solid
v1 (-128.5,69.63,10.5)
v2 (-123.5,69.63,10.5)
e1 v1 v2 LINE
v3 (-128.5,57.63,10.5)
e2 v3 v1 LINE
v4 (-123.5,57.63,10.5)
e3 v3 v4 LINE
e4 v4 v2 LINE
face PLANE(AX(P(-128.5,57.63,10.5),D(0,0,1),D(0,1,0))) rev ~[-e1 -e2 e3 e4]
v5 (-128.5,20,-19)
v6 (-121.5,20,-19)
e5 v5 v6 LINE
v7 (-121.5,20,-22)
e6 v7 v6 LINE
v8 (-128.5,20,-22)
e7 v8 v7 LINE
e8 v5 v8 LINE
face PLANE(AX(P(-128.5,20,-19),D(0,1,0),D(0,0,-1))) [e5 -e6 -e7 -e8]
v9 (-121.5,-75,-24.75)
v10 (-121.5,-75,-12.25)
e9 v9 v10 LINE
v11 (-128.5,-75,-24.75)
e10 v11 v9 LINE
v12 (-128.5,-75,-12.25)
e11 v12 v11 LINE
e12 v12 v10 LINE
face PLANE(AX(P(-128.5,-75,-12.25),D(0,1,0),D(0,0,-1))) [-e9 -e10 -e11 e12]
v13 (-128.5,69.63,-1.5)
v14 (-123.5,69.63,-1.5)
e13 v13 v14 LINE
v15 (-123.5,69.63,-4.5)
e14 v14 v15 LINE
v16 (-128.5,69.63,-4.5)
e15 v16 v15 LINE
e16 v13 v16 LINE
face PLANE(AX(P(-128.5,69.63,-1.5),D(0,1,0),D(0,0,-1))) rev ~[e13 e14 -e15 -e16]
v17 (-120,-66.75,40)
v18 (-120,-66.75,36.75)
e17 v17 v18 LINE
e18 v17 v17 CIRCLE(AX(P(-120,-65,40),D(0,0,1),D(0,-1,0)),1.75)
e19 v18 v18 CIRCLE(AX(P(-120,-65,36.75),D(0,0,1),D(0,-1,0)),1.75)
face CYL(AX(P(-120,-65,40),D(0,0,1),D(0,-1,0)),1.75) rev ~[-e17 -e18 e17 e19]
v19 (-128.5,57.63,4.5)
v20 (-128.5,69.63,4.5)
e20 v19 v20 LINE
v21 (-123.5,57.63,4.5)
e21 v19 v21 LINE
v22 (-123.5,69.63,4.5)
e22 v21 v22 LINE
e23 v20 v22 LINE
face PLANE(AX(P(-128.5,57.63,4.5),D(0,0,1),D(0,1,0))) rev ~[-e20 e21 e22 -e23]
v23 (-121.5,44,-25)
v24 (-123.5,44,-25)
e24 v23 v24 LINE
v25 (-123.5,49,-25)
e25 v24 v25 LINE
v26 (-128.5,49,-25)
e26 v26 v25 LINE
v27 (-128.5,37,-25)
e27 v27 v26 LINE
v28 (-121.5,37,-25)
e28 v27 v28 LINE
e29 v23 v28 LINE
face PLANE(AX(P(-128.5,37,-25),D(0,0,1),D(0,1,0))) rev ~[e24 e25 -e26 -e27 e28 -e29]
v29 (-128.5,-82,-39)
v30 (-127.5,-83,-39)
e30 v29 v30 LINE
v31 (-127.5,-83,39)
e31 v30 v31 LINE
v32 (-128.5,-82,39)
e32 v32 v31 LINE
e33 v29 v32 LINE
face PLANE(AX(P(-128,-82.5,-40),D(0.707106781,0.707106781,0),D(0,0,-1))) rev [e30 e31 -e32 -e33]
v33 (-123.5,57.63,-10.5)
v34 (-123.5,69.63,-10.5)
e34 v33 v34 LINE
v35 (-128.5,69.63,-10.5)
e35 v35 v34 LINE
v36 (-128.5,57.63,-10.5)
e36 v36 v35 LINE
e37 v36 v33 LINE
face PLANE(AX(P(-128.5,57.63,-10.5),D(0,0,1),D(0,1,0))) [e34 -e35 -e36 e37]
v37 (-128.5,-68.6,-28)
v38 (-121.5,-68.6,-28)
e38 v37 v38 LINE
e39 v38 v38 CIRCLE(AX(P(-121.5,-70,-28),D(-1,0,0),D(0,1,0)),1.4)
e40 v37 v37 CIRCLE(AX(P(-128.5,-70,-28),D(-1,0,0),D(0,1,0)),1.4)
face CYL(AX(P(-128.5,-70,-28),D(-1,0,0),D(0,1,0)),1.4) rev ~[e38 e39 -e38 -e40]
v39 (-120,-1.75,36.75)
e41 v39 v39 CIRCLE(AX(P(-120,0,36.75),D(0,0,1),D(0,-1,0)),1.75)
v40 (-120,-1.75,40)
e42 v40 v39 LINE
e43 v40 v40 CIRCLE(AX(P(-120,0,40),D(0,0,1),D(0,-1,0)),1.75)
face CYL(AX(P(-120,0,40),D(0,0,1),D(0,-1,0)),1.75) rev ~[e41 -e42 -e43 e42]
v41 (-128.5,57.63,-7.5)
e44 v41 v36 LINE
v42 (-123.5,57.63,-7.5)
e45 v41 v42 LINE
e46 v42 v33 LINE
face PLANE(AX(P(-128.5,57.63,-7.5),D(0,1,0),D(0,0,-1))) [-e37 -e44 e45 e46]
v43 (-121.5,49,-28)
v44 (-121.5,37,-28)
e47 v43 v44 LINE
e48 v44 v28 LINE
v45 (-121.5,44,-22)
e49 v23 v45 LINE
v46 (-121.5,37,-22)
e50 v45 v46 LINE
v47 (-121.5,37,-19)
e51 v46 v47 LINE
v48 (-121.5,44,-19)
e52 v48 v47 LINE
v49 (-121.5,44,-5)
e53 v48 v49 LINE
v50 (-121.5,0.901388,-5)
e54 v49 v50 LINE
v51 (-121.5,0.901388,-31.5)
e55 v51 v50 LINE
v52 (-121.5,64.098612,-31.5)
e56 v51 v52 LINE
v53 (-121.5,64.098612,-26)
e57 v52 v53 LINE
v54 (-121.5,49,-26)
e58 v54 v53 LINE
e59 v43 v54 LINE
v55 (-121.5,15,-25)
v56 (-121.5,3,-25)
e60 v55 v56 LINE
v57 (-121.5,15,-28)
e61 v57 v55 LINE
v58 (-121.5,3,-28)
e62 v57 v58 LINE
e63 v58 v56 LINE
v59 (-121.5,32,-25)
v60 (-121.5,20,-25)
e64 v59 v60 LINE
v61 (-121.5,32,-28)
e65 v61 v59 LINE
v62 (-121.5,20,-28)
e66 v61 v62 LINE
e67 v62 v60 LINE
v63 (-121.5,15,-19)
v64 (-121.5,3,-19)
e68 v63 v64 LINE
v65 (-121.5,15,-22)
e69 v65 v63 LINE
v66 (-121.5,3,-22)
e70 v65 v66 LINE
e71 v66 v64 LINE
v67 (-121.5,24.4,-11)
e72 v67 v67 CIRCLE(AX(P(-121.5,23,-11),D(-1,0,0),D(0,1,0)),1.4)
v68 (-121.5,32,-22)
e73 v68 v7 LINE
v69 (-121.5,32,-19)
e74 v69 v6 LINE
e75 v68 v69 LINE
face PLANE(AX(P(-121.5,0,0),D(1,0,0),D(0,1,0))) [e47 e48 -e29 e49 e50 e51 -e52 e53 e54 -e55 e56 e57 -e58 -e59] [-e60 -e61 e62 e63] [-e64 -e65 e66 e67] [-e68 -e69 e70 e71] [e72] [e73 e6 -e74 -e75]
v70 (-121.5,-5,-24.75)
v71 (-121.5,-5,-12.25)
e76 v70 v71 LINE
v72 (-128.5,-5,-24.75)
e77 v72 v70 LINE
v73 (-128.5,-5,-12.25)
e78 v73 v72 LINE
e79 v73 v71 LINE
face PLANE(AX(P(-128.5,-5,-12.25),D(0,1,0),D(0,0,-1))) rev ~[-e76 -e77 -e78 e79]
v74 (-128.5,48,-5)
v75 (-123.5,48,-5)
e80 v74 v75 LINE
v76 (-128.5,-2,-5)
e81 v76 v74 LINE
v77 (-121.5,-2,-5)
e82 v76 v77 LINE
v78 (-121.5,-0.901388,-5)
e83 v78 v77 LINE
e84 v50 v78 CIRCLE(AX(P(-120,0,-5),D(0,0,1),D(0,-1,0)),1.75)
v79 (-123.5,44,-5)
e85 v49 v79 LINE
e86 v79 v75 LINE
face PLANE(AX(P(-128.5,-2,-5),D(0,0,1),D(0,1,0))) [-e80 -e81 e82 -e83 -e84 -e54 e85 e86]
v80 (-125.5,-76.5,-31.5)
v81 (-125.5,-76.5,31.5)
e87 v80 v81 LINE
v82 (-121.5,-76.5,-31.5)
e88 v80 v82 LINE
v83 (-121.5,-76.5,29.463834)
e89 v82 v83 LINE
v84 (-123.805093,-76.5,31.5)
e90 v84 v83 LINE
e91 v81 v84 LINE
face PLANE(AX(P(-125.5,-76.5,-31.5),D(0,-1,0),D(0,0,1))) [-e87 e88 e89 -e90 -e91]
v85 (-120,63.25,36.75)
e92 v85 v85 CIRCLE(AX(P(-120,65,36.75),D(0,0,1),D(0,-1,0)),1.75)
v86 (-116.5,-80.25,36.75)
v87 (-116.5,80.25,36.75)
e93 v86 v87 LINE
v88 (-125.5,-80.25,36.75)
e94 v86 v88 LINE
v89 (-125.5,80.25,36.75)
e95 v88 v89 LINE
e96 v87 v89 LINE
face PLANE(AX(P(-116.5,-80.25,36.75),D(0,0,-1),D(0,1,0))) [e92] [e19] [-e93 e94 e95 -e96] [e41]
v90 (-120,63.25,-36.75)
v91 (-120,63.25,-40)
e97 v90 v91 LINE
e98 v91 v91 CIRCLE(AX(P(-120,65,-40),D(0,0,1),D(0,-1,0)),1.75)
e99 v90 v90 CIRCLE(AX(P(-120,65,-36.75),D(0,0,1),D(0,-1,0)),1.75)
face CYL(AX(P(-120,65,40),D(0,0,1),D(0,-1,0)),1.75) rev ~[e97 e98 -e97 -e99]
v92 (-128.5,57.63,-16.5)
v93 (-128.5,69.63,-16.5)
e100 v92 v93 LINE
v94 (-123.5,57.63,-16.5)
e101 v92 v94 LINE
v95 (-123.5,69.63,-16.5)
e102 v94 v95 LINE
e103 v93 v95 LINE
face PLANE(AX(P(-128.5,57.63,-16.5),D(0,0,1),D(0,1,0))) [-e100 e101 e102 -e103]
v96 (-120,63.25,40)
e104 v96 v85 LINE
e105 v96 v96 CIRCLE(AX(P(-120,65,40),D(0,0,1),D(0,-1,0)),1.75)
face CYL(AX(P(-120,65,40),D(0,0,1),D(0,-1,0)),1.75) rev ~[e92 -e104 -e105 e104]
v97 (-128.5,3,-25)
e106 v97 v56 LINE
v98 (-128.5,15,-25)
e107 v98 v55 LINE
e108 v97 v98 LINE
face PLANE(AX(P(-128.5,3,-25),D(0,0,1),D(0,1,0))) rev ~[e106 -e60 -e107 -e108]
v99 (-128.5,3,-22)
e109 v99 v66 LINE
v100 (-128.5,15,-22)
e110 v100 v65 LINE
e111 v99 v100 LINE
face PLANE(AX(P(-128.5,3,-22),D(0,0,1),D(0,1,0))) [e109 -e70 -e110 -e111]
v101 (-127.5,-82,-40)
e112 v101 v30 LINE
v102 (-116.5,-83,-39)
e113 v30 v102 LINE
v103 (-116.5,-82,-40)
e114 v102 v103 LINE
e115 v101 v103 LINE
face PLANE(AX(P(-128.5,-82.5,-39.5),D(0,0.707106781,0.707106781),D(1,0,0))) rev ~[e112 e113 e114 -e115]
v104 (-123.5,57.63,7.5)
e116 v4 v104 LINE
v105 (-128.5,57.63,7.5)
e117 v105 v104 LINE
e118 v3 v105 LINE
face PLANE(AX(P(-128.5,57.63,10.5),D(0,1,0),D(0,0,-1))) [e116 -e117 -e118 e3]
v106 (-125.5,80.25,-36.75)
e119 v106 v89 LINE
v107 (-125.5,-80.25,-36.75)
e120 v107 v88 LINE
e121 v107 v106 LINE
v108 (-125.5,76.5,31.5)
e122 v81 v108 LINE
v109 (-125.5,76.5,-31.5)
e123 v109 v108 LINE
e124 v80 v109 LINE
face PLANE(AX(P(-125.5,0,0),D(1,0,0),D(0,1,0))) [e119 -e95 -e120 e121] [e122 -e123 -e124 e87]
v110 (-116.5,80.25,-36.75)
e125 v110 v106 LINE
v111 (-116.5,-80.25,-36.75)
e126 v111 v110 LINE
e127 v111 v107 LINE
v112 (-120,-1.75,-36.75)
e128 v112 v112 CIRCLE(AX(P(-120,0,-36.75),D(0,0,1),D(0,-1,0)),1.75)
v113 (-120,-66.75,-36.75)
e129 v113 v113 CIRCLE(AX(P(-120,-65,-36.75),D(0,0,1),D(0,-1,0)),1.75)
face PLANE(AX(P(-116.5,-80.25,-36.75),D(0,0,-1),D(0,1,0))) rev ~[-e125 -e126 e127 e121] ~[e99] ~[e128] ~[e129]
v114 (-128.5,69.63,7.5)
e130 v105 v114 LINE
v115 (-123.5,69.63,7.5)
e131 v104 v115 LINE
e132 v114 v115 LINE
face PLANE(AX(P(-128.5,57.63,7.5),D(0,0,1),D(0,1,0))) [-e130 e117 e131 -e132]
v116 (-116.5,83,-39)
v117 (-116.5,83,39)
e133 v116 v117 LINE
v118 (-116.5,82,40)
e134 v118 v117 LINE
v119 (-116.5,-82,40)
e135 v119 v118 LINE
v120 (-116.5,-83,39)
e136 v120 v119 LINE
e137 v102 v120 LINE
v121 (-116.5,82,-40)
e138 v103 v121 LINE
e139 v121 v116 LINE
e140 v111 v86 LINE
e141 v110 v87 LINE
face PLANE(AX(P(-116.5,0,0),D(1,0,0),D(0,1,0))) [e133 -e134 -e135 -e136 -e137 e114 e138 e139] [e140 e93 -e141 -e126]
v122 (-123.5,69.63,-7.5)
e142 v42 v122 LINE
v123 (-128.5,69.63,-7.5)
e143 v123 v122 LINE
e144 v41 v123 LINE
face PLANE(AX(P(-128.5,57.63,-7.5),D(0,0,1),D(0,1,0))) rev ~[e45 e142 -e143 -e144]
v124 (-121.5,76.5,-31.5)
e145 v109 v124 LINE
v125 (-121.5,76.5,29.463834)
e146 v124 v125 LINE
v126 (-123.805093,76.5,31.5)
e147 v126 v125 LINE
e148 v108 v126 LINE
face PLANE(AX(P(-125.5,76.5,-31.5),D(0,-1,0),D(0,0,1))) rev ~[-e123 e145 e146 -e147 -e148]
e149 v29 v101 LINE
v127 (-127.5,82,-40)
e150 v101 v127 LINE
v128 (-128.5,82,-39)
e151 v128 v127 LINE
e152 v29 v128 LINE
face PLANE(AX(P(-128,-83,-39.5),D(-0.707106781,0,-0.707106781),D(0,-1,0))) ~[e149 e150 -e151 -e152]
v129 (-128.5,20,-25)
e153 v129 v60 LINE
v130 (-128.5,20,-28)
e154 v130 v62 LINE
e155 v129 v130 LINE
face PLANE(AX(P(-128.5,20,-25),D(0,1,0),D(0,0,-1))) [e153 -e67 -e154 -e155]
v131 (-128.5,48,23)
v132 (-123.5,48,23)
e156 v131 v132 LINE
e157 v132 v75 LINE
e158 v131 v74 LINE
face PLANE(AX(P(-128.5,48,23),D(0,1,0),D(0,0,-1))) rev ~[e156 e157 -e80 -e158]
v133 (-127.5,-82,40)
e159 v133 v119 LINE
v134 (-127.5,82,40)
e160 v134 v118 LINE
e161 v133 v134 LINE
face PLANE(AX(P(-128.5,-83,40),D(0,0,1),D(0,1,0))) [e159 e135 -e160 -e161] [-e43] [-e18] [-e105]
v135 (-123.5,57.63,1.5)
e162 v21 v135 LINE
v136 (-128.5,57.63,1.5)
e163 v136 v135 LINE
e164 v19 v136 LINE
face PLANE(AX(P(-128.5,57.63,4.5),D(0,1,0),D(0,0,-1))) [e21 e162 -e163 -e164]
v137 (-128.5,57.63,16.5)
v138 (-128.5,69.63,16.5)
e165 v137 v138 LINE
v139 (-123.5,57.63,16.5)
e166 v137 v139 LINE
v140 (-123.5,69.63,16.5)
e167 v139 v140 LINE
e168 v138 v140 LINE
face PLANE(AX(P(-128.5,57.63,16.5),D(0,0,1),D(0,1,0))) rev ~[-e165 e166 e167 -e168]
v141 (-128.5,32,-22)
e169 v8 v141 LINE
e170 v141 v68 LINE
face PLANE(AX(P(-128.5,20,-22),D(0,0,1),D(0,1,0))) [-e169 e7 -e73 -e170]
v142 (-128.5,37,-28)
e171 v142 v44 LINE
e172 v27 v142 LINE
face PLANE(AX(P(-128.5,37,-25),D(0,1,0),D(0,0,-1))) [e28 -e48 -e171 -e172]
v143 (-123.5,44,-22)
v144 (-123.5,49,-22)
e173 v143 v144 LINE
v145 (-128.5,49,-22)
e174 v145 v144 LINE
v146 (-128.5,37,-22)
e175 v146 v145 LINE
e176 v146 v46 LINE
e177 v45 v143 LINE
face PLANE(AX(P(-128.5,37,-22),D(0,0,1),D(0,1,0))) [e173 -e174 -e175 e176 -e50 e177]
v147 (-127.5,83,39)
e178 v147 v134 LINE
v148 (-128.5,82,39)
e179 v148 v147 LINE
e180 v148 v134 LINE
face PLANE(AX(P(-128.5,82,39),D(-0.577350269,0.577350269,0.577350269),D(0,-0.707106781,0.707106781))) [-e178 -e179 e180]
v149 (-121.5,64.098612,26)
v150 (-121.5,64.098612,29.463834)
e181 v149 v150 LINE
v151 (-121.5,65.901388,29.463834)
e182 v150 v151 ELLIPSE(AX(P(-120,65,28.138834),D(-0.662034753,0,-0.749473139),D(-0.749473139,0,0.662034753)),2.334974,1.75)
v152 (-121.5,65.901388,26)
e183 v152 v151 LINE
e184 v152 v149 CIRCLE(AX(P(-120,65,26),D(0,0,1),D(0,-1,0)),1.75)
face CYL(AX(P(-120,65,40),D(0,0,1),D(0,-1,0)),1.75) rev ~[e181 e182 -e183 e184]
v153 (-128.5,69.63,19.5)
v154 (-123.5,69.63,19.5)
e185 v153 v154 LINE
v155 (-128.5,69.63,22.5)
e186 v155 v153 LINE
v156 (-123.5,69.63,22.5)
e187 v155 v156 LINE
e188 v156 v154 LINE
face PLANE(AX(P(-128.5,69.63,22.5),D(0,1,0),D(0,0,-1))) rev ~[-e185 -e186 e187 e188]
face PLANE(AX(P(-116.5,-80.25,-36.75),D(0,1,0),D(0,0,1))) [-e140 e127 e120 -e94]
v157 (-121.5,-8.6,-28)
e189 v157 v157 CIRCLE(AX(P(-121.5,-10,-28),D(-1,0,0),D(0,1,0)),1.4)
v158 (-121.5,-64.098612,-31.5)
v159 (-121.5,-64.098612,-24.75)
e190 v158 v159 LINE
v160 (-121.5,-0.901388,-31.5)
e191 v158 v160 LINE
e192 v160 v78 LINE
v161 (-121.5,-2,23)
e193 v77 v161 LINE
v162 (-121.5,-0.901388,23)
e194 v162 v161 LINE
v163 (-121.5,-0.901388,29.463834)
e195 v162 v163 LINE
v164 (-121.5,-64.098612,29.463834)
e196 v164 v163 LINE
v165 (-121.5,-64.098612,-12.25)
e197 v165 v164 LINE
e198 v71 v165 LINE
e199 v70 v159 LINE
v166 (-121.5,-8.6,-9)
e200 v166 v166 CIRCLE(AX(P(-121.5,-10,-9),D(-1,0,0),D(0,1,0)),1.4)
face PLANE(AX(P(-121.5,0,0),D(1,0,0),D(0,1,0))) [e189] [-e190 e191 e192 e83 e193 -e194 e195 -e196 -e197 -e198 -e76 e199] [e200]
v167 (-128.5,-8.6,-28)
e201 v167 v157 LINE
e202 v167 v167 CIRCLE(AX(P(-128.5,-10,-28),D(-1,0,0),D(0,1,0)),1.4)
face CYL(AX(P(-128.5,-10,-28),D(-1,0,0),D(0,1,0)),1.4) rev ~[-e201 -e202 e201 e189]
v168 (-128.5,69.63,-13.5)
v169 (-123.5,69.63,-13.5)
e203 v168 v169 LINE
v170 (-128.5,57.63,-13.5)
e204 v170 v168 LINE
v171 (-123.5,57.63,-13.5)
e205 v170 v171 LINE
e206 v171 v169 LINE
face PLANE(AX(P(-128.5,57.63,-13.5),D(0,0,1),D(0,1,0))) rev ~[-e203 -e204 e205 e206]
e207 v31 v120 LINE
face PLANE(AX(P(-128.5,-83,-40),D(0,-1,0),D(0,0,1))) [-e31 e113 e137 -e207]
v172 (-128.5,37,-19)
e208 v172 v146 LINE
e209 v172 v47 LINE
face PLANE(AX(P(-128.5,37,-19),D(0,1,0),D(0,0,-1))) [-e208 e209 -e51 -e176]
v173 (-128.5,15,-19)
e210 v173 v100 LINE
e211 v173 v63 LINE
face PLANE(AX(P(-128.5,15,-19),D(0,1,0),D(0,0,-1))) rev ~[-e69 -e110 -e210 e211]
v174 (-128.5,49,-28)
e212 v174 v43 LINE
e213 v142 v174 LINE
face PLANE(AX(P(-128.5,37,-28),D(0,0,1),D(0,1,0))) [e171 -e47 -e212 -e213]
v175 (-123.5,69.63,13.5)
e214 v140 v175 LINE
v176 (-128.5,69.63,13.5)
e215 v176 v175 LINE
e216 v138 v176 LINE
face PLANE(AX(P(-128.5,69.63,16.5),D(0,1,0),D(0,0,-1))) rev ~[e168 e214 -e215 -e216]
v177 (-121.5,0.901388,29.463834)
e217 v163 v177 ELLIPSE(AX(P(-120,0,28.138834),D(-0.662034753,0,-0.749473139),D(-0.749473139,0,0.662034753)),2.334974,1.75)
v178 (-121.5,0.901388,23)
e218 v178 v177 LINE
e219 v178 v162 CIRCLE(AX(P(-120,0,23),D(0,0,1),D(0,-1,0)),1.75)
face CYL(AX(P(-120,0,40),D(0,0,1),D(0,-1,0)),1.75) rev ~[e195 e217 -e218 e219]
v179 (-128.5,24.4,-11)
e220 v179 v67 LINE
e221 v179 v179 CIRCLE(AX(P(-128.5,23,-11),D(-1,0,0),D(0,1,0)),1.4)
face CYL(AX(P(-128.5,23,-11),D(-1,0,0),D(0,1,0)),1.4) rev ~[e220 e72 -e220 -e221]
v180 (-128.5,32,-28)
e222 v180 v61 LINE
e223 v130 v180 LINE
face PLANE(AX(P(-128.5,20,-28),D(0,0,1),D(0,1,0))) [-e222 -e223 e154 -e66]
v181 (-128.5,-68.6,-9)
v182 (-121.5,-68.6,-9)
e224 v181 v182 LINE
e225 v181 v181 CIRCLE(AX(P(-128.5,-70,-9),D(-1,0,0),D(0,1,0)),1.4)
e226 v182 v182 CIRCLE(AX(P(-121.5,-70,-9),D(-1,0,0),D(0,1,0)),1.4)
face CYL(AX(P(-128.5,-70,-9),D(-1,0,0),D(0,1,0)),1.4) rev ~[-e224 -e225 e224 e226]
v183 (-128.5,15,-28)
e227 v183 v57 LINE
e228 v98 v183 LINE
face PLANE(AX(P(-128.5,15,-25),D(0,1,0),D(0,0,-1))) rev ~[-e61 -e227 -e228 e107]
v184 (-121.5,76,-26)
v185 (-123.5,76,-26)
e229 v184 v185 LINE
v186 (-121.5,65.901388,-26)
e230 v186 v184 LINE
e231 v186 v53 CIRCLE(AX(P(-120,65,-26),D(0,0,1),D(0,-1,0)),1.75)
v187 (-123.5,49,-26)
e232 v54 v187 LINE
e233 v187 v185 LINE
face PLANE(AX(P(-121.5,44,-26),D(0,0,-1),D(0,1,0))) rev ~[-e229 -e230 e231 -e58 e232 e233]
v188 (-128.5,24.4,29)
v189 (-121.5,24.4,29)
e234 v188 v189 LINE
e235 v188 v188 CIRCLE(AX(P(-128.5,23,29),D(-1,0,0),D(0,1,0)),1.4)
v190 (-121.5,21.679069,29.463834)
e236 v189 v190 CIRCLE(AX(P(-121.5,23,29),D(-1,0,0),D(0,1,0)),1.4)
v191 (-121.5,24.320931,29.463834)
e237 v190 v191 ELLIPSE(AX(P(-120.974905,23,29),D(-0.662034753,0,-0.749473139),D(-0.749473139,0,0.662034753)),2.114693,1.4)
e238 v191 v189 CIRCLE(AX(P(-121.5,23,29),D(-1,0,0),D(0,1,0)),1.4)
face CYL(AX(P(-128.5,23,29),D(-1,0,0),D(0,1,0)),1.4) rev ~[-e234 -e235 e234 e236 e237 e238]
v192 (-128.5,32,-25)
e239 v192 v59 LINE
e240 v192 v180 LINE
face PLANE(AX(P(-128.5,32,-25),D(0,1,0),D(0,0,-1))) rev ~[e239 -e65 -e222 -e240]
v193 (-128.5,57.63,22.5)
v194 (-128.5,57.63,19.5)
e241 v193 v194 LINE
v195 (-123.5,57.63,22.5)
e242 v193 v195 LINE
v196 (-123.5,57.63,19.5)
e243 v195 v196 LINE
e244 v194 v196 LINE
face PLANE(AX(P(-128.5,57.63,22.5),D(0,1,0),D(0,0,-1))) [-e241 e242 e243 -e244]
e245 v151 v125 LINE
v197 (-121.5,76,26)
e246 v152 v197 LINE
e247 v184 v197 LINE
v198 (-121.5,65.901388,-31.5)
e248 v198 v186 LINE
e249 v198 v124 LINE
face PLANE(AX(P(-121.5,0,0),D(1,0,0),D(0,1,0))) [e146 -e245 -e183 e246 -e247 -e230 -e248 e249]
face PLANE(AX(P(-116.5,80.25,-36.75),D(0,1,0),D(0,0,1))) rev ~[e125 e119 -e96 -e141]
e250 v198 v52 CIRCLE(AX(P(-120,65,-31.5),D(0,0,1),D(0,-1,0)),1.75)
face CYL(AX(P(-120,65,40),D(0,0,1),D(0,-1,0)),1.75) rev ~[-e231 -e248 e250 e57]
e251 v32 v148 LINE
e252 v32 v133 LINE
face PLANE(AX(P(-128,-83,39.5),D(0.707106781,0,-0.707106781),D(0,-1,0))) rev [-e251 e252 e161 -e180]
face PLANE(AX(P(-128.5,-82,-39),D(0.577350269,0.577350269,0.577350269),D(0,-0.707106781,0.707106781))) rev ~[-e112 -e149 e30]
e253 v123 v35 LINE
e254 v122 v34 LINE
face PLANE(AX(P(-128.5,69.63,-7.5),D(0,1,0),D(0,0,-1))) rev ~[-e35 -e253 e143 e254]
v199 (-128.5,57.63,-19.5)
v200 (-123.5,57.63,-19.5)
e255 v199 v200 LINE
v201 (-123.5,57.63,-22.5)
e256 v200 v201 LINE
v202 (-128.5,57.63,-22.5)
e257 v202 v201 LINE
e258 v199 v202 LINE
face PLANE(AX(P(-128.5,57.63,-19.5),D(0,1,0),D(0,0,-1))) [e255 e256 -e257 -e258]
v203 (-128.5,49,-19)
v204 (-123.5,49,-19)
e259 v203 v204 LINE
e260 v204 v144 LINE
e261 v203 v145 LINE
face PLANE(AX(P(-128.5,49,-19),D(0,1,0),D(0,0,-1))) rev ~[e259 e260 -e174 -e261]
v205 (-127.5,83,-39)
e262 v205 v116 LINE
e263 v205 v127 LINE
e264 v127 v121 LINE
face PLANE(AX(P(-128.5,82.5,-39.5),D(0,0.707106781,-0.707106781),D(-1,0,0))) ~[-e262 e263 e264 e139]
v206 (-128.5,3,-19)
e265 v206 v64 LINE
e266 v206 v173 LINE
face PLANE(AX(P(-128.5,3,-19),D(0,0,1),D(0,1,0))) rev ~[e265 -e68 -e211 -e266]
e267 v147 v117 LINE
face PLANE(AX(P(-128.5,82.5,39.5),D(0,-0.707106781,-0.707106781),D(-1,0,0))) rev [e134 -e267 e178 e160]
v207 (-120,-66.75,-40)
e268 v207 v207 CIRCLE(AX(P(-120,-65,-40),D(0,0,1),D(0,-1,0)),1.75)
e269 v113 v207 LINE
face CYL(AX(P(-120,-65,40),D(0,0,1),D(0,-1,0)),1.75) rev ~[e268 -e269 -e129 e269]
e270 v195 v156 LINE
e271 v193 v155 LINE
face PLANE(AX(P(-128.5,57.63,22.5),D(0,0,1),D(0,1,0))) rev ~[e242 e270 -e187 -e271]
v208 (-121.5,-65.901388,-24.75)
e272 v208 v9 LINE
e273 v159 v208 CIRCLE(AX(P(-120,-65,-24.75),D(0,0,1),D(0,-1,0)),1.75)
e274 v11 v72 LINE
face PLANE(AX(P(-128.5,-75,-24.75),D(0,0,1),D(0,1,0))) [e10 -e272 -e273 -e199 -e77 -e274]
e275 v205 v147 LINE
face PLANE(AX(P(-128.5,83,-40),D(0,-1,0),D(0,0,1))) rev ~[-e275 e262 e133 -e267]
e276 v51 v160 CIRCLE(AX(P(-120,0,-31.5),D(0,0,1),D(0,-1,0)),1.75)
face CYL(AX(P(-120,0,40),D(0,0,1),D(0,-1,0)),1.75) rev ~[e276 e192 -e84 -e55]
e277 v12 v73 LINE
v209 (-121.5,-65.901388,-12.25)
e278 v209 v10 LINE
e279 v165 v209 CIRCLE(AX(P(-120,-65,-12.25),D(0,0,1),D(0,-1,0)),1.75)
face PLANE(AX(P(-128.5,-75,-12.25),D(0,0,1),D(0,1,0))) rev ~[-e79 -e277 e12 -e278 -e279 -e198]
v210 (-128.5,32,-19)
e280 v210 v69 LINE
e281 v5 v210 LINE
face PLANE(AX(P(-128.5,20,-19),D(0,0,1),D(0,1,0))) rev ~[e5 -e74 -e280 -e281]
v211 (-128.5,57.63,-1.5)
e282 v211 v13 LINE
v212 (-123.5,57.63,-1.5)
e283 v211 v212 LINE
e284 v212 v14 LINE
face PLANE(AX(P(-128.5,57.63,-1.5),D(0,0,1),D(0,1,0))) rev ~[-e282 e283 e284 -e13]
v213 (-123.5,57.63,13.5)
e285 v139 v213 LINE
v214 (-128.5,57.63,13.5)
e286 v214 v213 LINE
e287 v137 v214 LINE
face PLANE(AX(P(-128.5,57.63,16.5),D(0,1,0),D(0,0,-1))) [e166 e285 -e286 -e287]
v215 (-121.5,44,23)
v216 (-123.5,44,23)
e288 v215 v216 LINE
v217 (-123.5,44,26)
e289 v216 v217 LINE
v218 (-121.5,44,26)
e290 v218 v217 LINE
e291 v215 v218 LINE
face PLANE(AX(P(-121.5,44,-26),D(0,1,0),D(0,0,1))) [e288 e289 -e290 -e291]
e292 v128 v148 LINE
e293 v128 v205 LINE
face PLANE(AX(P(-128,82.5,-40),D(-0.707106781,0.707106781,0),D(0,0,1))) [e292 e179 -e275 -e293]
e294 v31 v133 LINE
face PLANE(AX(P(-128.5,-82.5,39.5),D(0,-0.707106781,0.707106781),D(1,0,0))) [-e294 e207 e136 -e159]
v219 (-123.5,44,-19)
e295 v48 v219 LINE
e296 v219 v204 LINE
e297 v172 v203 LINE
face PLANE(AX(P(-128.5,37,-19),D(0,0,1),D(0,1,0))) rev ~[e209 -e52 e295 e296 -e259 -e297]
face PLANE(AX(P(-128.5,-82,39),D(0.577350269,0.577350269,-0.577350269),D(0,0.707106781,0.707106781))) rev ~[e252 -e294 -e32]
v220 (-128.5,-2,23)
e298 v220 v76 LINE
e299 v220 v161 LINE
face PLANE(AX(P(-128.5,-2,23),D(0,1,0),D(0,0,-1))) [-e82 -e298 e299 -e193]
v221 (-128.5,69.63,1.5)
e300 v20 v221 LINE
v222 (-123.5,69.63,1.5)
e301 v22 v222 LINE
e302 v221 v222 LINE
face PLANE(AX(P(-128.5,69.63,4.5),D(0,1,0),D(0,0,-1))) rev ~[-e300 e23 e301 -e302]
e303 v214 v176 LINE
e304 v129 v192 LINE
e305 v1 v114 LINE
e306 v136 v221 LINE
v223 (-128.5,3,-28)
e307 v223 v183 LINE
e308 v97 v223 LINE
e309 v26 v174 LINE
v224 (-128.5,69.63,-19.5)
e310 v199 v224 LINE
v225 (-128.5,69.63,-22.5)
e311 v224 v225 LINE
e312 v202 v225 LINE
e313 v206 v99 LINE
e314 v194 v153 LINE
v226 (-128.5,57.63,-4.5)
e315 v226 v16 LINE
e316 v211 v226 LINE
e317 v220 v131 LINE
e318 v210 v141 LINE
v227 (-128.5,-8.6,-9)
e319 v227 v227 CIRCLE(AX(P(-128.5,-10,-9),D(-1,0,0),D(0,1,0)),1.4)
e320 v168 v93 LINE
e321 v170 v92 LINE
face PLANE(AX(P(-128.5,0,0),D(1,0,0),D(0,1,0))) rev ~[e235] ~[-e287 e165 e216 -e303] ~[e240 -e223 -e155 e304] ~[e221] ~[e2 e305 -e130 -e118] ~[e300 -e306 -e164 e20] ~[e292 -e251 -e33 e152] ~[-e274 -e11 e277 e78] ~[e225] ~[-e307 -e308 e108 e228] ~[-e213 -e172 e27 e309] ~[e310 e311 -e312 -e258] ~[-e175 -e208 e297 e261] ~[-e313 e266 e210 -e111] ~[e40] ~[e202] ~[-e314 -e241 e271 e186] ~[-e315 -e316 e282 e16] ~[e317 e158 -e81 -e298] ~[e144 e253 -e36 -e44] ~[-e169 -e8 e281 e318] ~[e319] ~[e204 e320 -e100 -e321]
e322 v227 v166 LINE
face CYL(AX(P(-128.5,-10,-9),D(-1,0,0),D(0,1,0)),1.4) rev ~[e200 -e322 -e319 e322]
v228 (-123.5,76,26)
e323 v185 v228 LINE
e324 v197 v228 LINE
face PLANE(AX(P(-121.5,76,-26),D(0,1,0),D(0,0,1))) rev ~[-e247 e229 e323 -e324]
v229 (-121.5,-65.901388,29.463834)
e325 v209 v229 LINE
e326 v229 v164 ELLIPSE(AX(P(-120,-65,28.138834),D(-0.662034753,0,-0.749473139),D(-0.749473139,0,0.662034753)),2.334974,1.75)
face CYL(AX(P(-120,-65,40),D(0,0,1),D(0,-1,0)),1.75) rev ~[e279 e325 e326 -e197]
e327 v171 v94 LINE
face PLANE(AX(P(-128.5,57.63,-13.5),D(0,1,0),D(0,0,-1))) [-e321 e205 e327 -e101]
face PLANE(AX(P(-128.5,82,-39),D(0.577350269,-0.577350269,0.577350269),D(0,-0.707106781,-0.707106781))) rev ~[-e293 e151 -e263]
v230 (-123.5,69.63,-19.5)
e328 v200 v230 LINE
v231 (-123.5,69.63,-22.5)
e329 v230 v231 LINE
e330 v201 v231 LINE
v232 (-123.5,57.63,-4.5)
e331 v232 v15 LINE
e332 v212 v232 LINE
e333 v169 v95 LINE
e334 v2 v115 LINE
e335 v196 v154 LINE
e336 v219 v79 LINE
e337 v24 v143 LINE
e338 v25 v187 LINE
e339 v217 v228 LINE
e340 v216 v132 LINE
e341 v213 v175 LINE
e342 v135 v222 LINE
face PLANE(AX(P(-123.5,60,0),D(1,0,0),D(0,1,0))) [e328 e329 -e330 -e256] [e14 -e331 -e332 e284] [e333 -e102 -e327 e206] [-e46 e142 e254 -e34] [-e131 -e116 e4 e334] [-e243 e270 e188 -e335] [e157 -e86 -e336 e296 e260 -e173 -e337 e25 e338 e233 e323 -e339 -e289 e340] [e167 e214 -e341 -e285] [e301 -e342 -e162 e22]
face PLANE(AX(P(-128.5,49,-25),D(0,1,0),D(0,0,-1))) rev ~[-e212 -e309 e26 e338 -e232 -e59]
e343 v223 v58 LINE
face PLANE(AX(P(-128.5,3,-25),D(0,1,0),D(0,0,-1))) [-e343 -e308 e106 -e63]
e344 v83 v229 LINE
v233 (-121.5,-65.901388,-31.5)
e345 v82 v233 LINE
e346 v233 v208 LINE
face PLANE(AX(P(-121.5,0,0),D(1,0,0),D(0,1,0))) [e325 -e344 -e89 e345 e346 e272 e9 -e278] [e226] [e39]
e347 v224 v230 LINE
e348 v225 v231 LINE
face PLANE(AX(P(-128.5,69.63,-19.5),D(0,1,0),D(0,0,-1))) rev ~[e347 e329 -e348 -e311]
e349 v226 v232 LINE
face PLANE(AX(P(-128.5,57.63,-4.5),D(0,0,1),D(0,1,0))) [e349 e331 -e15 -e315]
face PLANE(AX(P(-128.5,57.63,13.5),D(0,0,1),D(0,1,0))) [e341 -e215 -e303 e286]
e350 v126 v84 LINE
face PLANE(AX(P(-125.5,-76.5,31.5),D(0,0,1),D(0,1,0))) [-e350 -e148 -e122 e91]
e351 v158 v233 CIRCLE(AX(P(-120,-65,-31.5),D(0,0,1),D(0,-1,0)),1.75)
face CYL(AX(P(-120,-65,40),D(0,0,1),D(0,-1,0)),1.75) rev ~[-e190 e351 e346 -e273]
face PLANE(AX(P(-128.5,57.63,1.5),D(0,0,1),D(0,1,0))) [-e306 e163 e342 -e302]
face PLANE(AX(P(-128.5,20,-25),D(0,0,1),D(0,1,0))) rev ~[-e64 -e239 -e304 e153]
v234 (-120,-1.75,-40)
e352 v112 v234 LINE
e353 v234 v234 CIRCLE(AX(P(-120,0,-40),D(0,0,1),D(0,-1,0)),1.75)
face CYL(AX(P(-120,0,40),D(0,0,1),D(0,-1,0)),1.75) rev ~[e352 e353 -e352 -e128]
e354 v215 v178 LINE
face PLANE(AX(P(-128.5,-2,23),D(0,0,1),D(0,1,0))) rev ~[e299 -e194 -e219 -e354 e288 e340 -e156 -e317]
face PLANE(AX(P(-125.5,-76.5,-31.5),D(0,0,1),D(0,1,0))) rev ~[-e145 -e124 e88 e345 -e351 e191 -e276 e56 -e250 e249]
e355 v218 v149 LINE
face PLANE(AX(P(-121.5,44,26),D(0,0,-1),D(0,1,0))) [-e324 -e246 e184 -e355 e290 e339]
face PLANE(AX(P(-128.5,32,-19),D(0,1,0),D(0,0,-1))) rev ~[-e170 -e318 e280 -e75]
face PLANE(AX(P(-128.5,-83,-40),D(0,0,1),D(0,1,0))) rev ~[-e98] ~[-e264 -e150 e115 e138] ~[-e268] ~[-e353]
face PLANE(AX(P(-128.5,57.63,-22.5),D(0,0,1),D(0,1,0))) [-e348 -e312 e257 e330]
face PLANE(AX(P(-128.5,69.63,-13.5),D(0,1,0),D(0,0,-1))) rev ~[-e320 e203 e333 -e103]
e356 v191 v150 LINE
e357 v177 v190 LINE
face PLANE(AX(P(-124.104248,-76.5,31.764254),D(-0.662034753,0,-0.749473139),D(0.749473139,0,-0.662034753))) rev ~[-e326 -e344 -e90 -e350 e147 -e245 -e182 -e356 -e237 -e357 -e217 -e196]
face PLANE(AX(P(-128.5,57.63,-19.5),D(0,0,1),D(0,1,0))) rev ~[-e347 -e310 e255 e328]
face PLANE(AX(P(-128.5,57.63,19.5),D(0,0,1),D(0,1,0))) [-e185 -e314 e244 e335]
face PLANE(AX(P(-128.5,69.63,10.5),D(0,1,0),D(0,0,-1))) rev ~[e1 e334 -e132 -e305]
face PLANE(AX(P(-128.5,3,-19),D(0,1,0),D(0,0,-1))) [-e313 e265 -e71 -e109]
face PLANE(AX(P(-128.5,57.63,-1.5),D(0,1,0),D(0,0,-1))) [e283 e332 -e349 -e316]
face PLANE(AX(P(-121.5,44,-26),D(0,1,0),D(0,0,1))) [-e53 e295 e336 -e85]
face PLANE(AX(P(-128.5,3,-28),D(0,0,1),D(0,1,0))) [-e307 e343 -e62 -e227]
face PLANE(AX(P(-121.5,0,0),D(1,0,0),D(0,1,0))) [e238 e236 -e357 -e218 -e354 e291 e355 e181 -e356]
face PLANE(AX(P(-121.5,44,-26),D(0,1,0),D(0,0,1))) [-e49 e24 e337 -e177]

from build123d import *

# Parameters (mm, degrees)
SKETCH008_W     = 166
SKETCH008_H     = 80
PAD005_DEPTH    = 12
SKETCH009_W     = 160.5
SKETCH009_H     = 73.5
POCKET002_DEPTH = 9
SKETCH016_W     = 153
SKETCH016_H     = 63
PAD007_DEPTH    = 4
SKETCH012_R     = 1.4
SKETCH012_W     = 70
SKETCH012_H     = 12.5
SKETCH012_W_2   = 50
SKETCH012_H_2   = 28
SKETCH012_W_3   = 12
SKETCH012_H_3   = 3
POCKET008_DEPTH = 12.001
SKETCH023_R     = 1.75
POCKET011_DEPTH = 80.001
SKETCH039_W     = 32
SKETCH039_H     = 52
POCKET036_DEPTH = 2
CHAMFER033_SIZE = 1
POCKET038_DEPTH = 154


with BuildPart() as part:
    # Sketch008 → Pad005 (new body)
    with BuildSketch(Plane.YZ):
        Rectangle(SKETCH008_W, SKETCH008_H)
    extrude(amount=PAD005_DEPTH)

    # Sketch009 (on Face6 of Pad005) → Pocket002 (cut)
    with BuildSketch(Plane.YZ.offset(12)):
        Rectangle(SKETCH009_W, SKETCH009_H)
    extrude(amount=-POCKET002_DEPTH, mode=Mode.SUBTRACT)

    # Sketch016 (on Face11 of Pocket002) → Pad007 (join)
    with BuildSketch(Plane.YZ.offset(3)):
        Rectangle(SKETCH016_W, SKETCH016_H)
    extrude(amount=PAD007_DEPTH)

    # Sketch012 (on Face4 of Pocket002) → Pocket008 (cut, through all)
    with BuildSketch(Plane(origin=(0, 0, 0), x_dir=(0, 1, 0), z_dir=(-1, 0, 0))):
        with Locations((23, 11)):
            Circle(SKETCH012_R)
        with Locations((23, -29)):
            Circle(SKETCH012_R)
        with Locations((-70, 28)):
            Circle(SKETCH012_R)
        with Locations((-70, 9)):
            Circle(SKETCH012_R)
        with Locations((-10, 28)):
            Circle(SKETCH012_R)
        with Locations((-10, 9)):
            Circle(SKETCH012_R)
        with Locations((-40, 18.5)):
            Rectangle(SKETCH012_W, SKETCH012_H)
        with Locations((23, -9)):
            Rectangle(SKETCH012_W_2, SKETCH012_H_2)
        with Locations((9, 26.5)):
            Rectangle(SKETCH012_W_3, SKETCH012_H_3)
        with Locations((26, 26.5)):
            Rectangle(SKETCH012_W_3, SKETCH012_H_3)
        with Locations((43, 26.5)):
            Rectangle(SKETCH012_W_3, SKETCH012_H_3)
        with Locations((9, 20.5)):
            Rectangle(SKETCH012_W_3, SKETCH012_H_3)
        with Locations((26, 20.5)):
            Rectangle(SKETCH012_W_3, SKETCH012_H_3)
        with Locations((43, 20.5)):
            Rectangle(SKETCH012_W_3, SKETCH012_H_3)
        with Locations((63.63, 21)):
            Rectangle(SKETCH012_W_3, SKETCH012_H_3)
        with Locations((63.63, 15)):
            Rectangle(SKETCH012_W_3, SKETCH012_H_3)
        with Locations((63.63, 9)):
            Rectangle(SKETCH012_W_3, SKETCH012_H_3)
        with Locations((63.63, 3)):
            Rectangle(SKETCH012_W_3, SKETCH012_H_3)
        with Locations((63.63, -3)):
            Rectangle(SKETCH012_W_3, SKETCH012_H_3)
        with Locations((63.63, -9)):
            Rectangle(SKETCH012_W_3, SKETCH012_H_3)
        with Locations((63.63, -15)):
            Rectangle(SKETCH012_W_3, SKETCH012_H_3)
        with Locations((63.63, -21)):
            Rectangle(SKETCH012_W_3, SKETCH012_H_3)
    extrude(amount=-POCKET008_DEPTH, mode=Mode.SUBTRACT)

    # Sketch023 (on Face1 of Pocket008) → Pocket011 (cut, through all)
    with BuildSketch(Plane(origin=(0, 0, 40), x_dir=(0, -1, 0), z_dir=(0, 0, 1))):
        with Locations((-65, 8.5)):
            Circle(SKETCH023_R)
        with Locations((65, 8.5)):
            Circle(SKETCH023_R)
        with Locations((0, 8.5)):
            Circle(SKETCH023_R)
    extrude(amount=-POCKET011_DEPTH, mode=Mode.SUBTRACT)

    # Sketch039 → Pocket036 (cut)
    with BuildSketch(Plane.YZ.offset(7)):
        with Locations((60, 0)):
            Rectangle(SKETCH039_W, SKETCH039_H)
    extrude(amount=-POCKET036_DEPTH, mode=Mode.SUBTRACT)

    # Chamfer033
    chamfer033_edges = [part.edges().sort_by_distance(p)[0] for p in [
        (6, -83, 40),
        (6, 83, 40),
        (6, -83, -40),
        (6, 83, -40),
        (0, 83, 0),
        (0, 0, -40),
        (0, -83, 0),
        (0, 0, 40),
    ]]
    chamfer(chamfer033_edges, length=CHAMFER033_SIZE)

    # Sketch056 (on Face103 of Chamfer033) → Pocket038 (cut)
    with BuildSketch(Plane(origin=(0, -76.5, 0), x_dir=(0, 0, -1), z_dir=(0, -1, 0))):
        Polygon((-31.764254, 4.395752), (-28.984535, 7.542603), (-32.262505, 7.752388), align=None)
    extrude(amount=-POCKET038_DEPTH, mode=Mode.SUBTRACT)


with BuildPart() as part_1:
    # Body004 placement: moved
    add(part.part.moved(Location((-128.5, 0, 0))))


solid = part_1.part
